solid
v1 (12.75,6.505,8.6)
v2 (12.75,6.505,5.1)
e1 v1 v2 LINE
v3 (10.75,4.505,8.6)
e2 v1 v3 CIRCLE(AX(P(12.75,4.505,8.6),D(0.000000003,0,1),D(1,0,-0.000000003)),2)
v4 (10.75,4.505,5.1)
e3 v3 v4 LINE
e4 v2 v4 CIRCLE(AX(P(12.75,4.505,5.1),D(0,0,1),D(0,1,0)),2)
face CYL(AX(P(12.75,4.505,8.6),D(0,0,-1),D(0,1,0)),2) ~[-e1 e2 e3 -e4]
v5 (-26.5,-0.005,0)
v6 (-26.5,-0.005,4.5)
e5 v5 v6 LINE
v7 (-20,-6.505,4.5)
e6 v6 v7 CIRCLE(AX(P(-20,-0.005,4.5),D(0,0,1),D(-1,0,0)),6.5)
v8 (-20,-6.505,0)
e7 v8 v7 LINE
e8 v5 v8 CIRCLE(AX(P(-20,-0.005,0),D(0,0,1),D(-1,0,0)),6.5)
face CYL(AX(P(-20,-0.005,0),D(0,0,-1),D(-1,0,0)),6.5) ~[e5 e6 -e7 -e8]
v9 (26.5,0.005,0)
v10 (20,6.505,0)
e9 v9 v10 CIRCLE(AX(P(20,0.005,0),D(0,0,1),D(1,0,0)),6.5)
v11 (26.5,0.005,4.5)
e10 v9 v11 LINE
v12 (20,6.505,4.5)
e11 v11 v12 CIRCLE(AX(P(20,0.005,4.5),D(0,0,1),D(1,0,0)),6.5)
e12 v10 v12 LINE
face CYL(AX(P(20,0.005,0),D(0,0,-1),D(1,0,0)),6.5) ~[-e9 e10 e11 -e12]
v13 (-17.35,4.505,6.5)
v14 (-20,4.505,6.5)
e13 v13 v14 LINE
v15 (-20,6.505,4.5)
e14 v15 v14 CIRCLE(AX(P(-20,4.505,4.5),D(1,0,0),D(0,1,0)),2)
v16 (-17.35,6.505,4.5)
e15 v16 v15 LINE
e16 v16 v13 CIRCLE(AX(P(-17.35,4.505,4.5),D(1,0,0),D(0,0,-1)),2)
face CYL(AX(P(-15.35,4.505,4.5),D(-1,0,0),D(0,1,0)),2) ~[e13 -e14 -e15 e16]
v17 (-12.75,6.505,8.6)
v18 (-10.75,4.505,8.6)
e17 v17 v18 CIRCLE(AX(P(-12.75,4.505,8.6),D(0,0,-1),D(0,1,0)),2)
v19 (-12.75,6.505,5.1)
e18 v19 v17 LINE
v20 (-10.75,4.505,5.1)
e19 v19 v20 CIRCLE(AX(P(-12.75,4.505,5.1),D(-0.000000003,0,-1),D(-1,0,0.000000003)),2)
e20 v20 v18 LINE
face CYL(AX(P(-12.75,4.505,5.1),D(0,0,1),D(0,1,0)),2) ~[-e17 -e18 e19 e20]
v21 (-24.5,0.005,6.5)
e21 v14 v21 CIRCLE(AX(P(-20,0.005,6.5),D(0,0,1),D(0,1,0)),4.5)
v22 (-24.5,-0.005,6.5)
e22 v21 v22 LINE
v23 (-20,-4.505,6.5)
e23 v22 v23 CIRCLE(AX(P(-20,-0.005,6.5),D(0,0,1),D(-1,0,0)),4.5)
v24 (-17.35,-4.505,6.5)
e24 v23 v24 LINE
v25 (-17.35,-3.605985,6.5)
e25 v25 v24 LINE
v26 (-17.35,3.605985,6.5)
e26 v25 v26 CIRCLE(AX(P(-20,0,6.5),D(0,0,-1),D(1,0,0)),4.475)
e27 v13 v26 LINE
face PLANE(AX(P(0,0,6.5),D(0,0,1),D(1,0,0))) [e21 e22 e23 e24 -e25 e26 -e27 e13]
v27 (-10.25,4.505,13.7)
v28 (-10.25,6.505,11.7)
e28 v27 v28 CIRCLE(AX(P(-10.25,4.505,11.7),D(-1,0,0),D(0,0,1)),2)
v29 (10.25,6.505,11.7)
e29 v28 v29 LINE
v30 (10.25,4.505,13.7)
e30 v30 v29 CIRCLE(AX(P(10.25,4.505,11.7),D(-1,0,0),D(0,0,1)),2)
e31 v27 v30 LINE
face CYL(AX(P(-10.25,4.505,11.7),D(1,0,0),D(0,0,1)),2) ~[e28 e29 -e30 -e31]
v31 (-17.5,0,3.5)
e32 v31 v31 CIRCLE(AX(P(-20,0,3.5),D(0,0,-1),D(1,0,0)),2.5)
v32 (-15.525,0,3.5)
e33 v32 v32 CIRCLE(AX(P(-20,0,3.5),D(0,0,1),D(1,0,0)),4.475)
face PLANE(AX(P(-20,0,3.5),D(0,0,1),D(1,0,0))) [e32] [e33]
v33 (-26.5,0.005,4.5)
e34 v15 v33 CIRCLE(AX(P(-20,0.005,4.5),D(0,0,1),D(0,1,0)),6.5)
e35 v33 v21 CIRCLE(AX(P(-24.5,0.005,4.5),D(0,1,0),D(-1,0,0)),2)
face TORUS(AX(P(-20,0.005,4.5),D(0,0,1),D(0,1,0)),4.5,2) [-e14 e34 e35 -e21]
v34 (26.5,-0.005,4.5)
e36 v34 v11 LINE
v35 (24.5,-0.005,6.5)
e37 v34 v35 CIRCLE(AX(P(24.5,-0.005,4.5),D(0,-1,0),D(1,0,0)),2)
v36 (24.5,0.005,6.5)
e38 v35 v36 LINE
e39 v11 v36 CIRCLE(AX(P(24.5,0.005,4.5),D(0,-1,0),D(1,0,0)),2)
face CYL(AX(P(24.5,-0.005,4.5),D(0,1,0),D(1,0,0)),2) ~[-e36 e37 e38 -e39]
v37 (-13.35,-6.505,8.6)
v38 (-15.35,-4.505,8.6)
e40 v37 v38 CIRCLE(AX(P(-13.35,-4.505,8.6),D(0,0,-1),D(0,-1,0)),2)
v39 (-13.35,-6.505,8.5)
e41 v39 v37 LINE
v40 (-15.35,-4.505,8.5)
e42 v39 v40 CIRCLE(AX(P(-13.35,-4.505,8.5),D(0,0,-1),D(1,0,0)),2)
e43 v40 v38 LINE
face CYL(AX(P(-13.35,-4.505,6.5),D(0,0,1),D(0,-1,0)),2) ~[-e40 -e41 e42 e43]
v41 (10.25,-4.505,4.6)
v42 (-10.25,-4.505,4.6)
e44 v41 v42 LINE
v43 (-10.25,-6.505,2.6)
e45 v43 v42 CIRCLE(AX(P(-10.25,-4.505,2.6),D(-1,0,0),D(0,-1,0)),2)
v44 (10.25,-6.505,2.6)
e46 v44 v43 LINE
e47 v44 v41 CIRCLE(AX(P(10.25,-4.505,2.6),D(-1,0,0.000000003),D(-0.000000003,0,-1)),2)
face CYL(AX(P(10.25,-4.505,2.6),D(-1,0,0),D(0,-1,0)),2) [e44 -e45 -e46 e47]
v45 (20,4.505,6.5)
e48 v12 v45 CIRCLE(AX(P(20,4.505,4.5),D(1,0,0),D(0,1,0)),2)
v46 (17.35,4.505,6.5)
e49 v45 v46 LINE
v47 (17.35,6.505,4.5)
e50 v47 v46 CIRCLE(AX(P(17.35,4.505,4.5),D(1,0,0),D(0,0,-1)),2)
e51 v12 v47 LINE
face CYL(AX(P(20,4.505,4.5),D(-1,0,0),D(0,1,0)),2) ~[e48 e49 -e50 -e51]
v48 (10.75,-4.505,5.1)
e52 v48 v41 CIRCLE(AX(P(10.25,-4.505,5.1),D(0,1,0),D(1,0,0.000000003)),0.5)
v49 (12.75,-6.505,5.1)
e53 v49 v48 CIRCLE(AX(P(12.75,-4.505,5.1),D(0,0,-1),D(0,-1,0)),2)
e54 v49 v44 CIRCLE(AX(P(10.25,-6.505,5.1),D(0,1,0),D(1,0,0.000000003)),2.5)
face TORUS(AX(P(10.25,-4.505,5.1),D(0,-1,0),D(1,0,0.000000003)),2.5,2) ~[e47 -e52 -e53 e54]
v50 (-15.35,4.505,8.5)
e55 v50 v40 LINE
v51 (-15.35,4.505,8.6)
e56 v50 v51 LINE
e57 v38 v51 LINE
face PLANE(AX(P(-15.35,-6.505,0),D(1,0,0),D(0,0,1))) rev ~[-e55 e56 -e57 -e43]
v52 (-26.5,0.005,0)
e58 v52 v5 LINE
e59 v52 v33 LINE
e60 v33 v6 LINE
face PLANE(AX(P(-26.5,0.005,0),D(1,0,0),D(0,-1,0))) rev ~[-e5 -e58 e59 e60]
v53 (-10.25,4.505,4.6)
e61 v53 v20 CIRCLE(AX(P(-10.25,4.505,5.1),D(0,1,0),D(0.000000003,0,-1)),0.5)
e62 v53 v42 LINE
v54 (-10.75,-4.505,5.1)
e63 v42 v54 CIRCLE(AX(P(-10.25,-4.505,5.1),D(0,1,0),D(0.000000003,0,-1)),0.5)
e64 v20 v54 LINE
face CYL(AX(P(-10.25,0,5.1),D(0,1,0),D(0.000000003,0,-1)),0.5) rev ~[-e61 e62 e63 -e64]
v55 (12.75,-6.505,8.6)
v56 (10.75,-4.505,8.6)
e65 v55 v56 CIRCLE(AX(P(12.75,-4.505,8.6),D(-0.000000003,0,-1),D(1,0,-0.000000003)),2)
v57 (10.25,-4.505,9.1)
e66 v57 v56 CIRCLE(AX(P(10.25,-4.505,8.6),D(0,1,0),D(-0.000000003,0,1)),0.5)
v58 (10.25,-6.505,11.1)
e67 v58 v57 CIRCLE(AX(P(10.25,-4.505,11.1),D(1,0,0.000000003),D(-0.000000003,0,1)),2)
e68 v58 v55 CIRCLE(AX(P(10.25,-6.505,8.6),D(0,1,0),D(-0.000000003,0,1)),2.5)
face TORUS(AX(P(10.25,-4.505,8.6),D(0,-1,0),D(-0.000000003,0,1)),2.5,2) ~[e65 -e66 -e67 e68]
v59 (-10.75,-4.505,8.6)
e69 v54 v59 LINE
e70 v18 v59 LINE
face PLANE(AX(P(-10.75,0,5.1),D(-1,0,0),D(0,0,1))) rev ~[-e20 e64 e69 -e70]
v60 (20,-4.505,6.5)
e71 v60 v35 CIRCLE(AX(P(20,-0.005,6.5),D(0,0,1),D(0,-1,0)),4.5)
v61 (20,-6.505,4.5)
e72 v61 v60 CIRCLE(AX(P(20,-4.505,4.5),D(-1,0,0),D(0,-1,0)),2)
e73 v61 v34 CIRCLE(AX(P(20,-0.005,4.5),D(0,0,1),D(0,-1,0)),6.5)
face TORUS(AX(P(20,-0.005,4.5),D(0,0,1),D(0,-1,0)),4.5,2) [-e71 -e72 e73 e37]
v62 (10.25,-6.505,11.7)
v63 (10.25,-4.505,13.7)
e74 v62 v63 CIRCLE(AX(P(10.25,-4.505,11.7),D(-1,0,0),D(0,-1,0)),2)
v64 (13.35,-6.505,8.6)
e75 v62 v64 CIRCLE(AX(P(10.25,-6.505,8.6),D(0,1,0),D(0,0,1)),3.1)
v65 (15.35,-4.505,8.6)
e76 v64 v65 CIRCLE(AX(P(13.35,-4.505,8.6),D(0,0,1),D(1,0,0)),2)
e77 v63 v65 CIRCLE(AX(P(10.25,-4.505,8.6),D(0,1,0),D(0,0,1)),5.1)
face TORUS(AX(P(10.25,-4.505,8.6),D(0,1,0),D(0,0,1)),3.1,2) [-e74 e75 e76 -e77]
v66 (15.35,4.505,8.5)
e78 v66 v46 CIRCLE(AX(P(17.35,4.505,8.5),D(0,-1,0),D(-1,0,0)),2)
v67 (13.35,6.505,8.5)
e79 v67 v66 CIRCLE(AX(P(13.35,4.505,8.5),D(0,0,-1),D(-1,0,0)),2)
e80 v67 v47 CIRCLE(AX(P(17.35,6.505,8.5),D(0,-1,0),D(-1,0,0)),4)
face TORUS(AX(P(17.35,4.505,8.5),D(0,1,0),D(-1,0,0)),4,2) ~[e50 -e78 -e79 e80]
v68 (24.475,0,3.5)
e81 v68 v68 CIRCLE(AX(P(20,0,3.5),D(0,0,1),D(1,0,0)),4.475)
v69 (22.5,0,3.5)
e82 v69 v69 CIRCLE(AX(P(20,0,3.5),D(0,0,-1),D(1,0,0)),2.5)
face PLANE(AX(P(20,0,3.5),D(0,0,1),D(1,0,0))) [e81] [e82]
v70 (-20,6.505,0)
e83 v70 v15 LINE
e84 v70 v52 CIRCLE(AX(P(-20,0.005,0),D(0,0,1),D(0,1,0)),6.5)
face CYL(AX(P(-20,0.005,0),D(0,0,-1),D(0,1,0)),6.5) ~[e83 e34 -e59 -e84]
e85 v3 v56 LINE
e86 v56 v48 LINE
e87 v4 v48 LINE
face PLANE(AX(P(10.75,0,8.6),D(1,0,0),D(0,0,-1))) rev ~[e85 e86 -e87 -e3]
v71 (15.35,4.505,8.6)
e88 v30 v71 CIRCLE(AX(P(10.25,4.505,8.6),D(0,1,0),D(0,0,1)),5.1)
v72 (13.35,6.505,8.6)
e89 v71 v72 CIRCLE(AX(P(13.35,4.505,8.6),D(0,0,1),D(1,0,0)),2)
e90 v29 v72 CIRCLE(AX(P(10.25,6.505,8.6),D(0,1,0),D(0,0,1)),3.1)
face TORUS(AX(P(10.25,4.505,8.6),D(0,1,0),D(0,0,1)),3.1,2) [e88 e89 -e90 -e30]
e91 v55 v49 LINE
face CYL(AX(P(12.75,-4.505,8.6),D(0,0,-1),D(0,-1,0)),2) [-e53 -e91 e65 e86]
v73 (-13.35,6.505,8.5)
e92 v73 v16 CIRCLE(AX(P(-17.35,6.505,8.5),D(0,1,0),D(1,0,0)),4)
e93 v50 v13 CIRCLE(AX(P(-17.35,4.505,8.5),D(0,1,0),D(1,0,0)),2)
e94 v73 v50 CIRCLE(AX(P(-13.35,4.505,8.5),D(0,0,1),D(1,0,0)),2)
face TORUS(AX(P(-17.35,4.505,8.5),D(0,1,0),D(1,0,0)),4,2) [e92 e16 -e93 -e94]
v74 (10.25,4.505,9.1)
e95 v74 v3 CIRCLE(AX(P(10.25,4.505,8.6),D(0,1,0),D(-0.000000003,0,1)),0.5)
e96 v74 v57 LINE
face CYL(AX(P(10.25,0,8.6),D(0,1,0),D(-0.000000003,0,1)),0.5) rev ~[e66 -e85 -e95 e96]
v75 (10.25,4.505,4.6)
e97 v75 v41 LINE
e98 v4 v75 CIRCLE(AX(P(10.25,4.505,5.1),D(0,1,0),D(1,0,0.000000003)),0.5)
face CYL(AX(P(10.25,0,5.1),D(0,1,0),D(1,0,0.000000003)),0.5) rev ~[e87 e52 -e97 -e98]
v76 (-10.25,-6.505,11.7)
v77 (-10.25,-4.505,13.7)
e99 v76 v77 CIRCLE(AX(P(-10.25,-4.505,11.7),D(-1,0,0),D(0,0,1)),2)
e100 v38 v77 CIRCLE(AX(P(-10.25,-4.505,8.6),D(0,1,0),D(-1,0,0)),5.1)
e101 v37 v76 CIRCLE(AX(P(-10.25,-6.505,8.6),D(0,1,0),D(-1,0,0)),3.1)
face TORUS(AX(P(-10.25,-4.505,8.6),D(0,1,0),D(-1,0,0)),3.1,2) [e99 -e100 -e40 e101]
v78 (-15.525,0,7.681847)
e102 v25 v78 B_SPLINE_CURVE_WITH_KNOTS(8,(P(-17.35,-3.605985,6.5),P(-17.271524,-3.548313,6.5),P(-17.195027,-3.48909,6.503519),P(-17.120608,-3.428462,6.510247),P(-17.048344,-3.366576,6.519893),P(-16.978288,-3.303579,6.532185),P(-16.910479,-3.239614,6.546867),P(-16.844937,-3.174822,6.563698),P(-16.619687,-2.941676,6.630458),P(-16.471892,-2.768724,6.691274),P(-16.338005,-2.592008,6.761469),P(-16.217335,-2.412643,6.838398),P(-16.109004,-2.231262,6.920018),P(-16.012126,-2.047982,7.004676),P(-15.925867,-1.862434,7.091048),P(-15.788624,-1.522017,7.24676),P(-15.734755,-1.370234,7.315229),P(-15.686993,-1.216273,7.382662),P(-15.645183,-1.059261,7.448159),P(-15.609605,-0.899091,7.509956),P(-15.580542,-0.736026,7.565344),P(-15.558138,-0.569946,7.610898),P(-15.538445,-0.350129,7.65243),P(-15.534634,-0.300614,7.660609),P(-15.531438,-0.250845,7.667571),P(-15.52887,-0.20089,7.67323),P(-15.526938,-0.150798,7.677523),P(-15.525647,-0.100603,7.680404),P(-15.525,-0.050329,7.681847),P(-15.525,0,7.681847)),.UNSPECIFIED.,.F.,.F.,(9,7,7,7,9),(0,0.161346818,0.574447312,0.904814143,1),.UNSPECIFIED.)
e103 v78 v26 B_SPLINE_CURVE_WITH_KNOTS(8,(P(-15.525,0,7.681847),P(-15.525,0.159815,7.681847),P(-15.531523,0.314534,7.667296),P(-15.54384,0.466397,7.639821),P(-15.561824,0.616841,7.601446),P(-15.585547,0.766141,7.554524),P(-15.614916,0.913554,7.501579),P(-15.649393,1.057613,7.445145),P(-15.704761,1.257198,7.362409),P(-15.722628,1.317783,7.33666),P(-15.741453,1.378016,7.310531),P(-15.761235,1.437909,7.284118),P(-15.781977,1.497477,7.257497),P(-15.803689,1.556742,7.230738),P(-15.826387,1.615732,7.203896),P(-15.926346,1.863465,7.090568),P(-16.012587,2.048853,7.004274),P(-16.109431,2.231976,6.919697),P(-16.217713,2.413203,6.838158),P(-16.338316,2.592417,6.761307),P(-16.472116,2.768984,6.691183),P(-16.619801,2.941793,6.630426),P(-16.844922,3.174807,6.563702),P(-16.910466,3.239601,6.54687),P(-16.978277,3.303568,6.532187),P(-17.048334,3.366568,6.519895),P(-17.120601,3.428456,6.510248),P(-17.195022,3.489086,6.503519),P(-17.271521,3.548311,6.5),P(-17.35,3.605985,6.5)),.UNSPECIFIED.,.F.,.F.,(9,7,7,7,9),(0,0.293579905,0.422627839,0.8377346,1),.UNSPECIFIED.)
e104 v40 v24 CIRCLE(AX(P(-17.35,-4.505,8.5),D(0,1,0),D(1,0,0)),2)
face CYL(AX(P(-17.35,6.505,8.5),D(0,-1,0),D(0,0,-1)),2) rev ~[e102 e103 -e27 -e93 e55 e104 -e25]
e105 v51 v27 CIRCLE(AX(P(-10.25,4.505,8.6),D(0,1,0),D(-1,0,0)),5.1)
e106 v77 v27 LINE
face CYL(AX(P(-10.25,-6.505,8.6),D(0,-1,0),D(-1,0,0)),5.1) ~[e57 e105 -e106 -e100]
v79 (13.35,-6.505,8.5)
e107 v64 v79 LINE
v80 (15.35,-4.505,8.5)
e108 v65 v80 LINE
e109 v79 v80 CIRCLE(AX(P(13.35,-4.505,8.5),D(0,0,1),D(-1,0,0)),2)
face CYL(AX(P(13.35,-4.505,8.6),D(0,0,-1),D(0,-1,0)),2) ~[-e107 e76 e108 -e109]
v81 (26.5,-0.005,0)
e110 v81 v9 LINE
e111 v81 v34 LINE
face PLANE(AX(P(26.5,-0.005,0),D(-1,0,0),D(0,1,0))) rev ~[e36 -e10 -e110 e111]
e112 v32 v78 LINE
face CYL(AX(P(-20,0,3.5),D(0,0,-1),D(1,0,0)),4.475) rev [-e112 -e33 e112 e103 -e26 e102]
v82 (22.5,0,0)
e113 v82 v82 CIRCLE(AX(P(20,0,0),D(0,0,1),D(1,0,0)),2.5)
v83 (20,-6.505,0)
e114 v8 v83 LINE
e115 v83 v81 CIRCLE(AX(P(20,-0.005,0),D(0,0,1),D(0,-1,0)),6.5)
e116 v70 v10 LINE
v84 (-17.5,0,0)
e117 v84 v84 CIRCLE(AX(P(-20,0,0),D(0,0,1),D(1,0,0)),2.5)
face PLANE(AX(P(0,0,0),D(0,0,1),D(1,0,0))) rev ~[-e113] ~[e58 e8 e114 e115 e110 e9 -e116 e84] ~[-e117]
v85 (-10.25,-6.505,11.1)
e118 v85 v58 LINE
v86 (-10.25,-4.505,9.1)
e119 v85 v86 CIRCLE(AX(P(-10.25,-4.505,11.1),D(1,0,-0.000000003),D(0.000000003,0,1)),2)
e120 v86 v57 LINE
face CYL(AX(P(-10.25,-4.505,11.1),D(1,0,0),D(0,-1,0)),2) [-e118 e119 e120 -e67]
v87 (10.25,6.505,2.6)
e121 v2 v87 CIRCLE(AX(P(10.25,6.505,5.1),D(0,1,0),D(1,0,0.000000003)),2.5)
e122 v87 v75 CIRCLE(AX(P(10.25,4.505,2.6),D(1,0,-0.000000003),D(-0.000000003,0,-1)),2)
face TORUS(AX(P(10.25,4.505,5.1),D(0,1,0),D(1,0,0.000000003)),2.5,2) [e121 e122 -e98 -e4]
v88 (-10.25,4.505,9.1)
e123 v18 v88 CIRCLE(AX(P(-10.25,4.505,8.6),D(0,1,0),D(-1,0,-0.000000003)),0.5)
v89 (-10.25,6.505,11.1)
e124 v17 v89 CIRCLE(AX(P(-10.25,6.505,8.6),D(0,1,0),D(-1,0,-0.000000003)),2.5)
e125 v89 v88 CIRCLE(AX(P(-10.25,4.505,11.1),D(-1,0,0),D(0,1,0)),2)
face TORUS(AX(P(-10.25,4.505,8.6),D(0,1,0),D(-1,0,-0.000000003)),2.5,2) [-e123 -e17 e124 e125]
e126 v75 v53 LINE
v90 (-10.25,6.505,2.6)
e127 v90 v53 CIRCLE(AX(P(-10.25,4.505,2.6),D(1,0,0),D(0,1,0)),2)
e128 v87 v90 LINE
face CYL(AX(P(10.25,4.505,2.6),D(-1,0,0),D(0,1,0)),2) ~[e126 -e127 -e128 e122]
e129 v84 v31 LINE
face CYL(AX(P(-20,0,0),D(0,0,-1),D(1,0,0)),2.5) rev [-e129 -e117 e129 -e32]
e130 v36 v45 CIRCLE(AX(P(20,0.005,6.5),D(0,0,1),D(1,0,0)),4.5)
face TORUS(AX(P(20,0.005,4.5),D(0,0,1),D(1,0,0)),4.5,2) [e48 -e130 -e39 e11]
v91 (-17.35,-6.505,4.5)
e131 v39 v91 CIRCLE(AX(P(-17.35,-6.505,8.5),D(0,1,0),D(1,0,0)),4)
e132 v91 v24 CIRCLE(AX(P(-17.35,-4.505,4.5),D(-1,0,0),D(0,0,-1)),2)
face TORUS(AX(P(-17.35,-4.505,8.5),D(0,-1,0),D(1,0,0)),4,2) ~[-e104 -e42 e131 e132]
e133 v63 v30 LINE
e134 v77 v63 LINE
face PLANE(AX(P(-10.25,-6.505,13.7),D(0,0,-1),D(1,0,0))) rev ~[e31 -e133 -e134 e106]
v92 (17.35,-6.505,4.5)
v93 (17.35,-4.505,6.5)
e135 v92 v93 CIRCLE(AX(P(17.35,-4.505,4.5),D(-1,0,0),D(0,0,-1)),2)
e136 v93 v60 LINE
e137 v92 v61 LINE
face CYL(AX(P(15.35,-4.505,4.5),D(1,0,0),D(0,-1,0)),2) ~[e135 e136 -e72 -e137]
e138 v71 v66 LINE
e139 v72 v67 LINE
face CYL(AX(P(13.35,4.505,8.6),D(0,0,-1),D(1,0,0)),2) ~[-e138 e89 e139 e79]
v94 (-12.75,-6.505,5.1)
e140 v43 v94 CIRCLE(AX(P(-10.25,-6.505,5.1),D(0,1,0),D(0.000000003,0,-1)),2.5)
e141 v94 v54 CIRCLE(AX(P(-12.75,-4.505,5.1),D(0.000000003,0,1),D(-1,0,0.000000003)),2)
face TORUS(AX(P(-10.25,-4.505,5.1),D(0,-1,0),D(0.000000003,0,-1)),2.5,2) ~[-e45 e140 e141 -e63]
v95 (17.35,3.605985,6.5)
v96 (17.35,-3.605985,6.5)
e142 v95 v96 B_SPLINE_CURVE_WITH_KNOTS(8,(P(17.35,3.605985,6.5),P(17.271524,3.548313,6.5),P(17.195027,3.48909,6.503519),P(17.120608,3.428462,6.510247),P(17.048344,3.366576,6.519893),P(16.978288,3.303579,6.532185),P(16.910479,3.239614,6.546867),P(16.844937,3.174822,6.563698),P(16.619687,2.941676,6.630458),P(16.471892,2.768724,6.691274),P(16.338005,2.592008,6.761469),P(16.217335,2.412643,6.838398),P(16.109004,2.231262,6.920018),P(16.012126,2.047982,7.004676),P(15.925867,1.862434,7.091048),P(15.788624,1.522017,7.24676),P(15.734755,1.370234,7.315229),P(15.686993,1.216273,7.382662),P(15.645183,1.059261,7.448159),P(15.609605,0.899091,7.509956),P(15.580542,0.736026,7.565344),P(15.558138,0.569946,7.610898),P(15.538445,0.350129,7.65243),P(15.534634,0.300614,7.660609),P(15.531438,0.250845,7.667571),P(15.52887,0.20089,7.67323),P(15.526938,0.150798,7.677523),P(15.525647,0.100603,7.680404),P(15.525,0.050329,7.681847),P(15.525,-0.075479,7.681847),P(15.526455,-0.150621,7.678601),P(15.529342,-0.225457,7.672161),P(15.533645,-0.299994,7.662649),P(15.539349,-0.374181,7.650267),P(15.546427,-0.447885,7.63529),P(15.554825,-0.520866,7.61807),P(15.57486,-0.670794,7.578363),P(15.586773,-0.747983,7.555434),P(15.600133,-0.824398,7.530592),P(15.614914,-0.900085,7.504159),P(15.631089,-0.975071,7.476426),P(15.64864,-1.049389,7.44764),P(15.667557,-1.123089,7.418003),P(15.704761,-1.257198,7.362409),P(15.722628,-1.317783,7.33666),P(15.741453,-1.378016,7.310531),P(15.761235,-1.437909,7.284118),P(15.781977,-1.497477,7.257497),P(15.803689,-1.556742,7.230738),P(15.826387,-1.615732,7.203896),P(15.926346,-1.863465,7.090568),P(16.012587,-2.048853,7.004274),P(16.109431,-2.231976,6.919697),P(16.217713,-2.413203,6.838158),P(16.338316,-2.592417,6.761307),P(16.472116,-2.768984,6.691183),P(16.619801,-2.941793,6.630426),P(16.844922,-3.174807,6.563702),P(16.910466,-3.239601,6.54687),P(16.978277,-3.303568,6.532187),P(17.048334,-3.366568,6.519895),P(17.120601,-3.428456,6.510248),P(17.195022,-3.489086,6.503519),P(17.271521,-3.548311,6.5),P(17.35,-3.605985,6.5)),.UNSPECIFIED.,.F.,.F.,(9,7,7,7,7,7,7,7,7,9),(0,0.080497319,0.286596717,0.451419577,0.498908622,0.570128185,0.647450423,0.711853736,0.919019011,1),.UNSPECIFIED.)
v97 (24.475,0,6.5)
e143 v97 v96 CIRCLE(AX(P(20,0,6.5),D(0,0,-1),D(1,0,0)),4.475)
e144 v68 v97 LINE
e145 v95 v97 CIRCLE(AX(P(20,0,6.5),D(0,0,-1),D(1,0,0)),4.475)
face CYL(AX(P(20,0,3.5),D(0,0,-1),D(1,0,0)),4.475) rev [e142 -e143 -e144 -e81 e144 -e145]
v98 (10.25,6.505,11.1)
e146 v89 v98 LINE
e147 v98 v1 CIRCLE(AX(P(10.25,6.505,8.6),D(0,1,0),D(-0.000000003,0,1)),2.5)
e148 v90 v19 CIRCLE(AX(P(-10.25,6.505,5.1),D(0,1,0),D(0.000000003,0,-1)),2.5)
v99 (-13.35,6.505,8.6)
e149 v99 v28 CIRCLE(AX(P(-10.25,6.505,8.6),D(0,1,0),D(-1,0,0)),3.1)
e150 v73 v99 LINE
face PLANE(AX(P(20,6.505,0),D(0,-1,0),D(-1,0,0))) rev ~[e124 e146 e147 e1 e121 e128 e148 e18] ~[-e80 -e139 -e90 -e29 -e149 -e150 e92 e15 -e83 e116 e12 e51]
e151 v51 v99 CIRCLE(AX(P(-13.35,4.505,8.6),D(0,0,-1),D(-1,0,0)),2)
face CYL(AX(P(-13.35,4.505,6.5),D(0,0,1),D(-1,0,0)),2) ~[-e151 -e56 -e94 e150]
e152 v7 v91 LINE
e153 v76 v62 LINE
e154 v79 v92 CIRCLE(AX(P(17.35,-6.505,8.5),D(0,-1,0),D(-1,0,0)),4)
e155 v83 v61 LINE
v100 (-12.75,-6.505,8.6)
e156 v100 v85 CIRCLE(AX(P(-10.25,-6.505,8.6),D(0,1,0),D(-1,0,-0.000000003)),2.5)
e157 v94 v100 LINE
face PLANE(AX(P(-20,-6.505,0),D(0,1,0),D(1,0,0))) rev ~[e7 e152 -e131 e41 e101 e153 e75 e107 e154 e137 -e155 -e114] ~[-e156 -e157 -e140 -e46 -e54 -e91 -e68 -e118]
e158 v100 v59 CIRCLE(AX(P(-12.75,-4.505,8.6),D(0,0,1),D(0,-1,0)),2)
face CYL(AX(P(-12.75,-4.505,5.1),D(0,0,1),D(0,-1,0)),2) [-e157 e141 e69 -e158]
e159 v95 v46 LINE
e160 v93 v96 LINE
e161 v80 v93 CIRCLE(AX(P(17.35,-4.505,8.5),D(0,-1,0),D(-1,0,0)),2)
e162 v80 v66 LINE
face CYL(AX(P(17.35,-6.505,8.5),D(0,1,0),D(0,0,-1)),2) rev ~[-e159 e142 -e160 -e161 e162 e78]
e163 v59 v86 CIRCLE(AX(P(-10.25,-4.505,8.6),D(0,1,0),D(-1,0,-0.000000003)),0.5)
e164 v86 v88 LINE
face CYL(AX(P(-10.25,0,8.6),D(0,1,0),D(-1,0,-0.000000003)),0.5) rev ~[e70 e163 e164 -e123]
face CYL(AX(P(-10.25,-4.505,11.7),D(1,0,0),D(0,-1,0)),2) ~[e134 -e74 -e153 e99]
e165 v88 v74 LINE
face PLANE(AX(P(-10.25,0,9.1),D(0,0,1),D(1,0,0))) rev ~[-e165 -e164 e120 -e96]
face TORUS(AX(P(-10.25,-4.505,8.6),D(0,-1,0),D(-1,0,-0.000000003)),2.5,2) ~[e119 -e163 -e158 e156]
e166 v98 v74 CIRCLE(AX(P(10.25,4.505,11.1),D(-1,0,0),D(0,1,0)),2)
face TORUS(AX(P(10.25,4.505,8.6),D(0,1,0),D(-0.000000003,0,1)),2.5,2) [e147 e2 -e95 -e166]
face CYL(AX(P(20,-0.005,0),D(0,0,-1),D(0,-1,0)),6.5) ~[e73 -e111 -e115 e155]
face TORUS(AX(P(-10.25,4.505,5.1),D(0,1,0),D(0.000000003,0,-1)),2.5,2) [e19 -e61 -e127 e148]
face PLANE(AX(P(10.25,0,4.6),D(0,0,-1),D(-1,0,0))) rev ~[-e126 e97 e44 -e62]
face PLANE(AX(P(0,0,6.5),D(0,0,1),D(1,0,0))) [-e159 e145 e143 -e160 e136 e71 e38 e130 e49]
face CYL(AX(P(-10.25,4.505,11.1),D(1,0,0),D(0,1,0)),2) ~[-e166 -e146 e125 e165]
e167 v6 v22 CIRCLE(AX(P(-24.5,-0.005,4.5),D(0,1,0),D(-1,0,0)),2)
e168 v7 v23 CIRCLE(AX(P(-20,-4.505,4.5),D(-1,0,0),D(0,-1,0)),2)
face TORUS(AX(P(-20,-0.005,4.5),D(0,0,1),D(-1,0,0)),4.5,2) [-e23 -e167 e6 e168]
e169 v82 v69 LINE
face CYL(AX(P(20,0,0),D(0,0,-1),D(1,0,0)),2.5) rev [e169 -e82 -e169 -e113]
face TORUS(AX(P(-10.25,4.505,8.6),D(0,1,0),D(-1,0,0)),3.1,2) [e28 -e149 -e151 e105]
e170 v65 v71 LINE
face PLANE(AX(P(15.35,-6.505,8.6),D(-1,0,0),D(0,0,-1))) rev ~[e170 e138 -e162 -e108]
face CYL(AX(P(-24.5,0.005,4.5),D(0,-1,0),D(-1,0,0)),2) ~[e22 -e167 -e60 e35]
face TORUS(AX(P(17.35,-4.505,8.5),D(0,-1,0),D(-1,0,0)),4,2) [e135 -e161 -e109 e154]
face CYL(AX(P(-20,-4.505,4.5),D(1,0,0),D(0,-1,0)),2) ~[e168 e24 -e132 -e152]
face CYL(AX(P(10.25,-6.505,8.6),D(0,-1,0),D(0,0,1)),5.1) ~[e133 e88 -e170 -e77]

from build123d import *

# Parameters (mm, degrees)
STRAPSURROUNDINGMEAT_EXTRUDE_START = -6.505
STRAPSURROUNDINGMEAT_EXTRUDE_DEPTH = 13.01
MOUNTINGWINGS_EXTRUDE_DEPTH        = 6.5
STRAPSLOT_EXTRUDE_DEPTH            = 7.505
STRAPSLOT_EXTRUDE_DEPTH_BACK       = 7.505
SLOTBUGLINGFILLET_R                = 2
COSMETICFILLET_R                   = 2
SCREWCLEARANCEHOLES_SKETCH_R       = 2.5
SCREWCLEARANCEHOLES_CUT_DEPTH      = 14.7
SCREWHEADCLEARANCEHOLES_CUT_START  = 3.5
SCREWHEADCLEARANCEHOLES_SKETCH_R   = 4.475
SCREWHEADCLEARANCEHOLES_CUT_DEPTH  = 11.2


with BuildPart() as part:
    # strapSlotWalls_sketch → strapSurroundingMeat_extrude (new body)
    with BuildSketch(Plane(origin=(0, 0, 0), x_dir=(1, 0, 0), z_dir=(0, 1, 0)).offset(STRAPSURROUNDINGMEAT_EXTRUDE_START)):
        with BuildLine():
            Line((-10.25, -13.7), (10.25, -13.7))
            ThreePointArc((10.25, -13.7), (13.856244584, -12.206244584), (15.35, -8.6))
            Line((15.35, -8.6), (15.35, 0))
            Line((15.35, 0), (-15.35, 0))
            Line((-15.35, 0), (-15.35, -8.6))
            ThreePointArc((-15.35, -8.6), (-13.856244584, -12.206244584), (-10.25, -13.7))
        make_face()
    extrude(amount=STRAPSURROUNDINGMEAT_EXTRUDE_DEPTH)

    # mountingWings_sketch → mountingWings_extrude (add)
    with BuildSketch(Plane.XY):
        with BuildLine():
            Line((-20, -6.505), (20, -6.505))
            ThreePointArc((20, -6.505), (24.596194078, -4.601194078), (26.5, -0.005))
            Line((26.5, -0.005), (26.5, 0.005))
            ThreePointArc((26.5, 0.005), (24.596194078, 4.601194078), (20, 6.505))
            Line((20, 6.505), (-20, 6.505))
            ThreePointArc((-20, 6.505), (-24.596194078, 4.601194078), (-26.5, 0.005))
            Line((-26.5, 0.005), (-26.5, -0.005))
            ThreePointArc((-26.5, -0.005), (-24.596194078, -4.601194078), (-20, -6.505))
        make_face()
    extrude(amount=MOUNTINGWINGS_EXTRUDE_DEPTH)

    # strapSlot_sketch → strapSlot_extrude (cut, two sides)
    with BuildSketch(Plane(origin=(0, 0, 0), x_dir=(1, 0, 0), z_dir=(0, 1, 0))) as strapslot_extrude_sk:
        with BuildLine():
            Line((-10.25, -9.1), (10.25, -9.1))
            ThreePointArc((10.25, -9.1), (10.603553391, -8.953553391), (10.75, -8.6))
            Line((10.75, -8.6), (10.75, -5.1))
            ThreePointArc((10.75, -5.1), (10.603553391, -4.746446609), (10.25, -4.6))
            Line((10.25, -4.6), (-10.25, -4.6))
            ThreePointArc((-10.25, -4.6), (-10.603553391, -4.746446609), (-10.75, -5.1))
            Line((-10.75, -5.1), (-10.75, -8.6))
            ThreePointArc((-10.75, -8.6), (-10.603553391, -8.953553391), (-10.25, -9.1))
        make_face()
    extrude(amount=STRAPSLOT_EXTRUDE_DEPTH, mode=Mode.SUBTRACT)
    extrude(strapslot_extrude_sk.sketch, amount=-STRAPSLOT_EXTRUDE_DEPTH_BACK, mode=Mode.SUBTRACT)

    # slotBuglingFillet
    slotbuglingfillet_edges = [part.edges().sort_by_distance(p)[0] for p in [
        (10.603553391, -6.505, 8.953553391),
        (0, 6.505, 9.1),
        (-10.603553391, -6.505, 8.953553391),
        (-10.75, 6.505, 6.85),
        (-10.603553391, -6.505, 4.746446609),
        (0, 6.505, 4.6),
        (10.603553391, -6.505, 4.746446609),
        (10.75, 6.505, 6.85),
        (0, -6.505, 9.1),
        (-10.75, -6.505, 6.85),
        (0, -6.505, 4.6),
        (10.75, -6.505, 6.85),
        (10.603553391, 6.505, 8.953553391),
        (10.603553391, 6.505, 4.746446609),
        (-10.603553391, 6.505, 4.746446609),
        (-10.603553391, 6.505, 8.953553391),
    ]]
    fillet(slotbuglingfillet_edges, radius=SLOTBUGLINGFILLET_R)

    # cosmeticFillet
    cosmeticfillet_edges = [part.edges().sort_by_distance(p)[0] for p in [
        (-15.35, 6.505, 7.55),
        (-15.35, -6.505, 7.55),
        (-13.856244584, -6.505, 12.206244584),
        (17.675, -6.505, 6.5),
        (-17.675, -6.505, 6.5),
        (17.675, 6.505, 6.5),
        (-17.675, 6.505, 6.5),
        (24.596194078, -4.601194078, 6.5),
        (24.596194078, 4.601194078, 6.5),
        (-24.596194078, 4.601194078, 6.5),
        (-24.596194078, -4.601194078, 6.5),
        (0, -6.505, 13.7),
        (26.5, 0, 6.5),
        (13.856244584, -6.505, 12.206244584),
        (-26.5, 0, 6.5),
        (15.35, 0, 6.5),
        (-15.35, 0, 6.5),
        (13.856244584, 6.505, 12.206244584),
        (15.35, 6.505, 7.55),
        (-13.856244584, 6.505, 12.206244584),
        (0, 6.505, 13.7),
        (15.35, -6.505, 7.55),
    ]]
    fillet(cosmeticfillet_edges, radius=COSMETICFILLET_R)

    # screwClearanceHoles_sketch → screwClearanceHoles_cut (cut, through all)
    with BuildSketch(Plane.XY):
        with Locations((-20, 0)):
            Circle(SCREWCLEARANCEHOLES_SKETCH_R)
        with Locations((20, 0)):
            Circle(SCREWCLEARANCEHOLES_SKETCH_R)
    extrude(amount=SCREWCLEARANCEHOLES_CUT_DEPTH, mode=Mode.SUBTRACT)

    # screwHeadClearanceHoles_sketch → screwHeadClearanceHoles_cut (cut, through all)
    with BuildSketch(Plane.XY.offset(SCREWHEADCLEARANCEHOLES_CUT_START)):
        with Locations((-20, 0)):
            Circle(SCREWHEADCLEARANCEHOLES_SKETCH_R)
        with Locations((20, 0)):
            Circle(SCREWHEADCLEARANCEHOLES_SKETCH_R)
    extrude(amount=SCREWHEADCLEARANCEHOLES_CUT_DEPTH, mode=Mode.SUBTRACT)


solid = part.part
